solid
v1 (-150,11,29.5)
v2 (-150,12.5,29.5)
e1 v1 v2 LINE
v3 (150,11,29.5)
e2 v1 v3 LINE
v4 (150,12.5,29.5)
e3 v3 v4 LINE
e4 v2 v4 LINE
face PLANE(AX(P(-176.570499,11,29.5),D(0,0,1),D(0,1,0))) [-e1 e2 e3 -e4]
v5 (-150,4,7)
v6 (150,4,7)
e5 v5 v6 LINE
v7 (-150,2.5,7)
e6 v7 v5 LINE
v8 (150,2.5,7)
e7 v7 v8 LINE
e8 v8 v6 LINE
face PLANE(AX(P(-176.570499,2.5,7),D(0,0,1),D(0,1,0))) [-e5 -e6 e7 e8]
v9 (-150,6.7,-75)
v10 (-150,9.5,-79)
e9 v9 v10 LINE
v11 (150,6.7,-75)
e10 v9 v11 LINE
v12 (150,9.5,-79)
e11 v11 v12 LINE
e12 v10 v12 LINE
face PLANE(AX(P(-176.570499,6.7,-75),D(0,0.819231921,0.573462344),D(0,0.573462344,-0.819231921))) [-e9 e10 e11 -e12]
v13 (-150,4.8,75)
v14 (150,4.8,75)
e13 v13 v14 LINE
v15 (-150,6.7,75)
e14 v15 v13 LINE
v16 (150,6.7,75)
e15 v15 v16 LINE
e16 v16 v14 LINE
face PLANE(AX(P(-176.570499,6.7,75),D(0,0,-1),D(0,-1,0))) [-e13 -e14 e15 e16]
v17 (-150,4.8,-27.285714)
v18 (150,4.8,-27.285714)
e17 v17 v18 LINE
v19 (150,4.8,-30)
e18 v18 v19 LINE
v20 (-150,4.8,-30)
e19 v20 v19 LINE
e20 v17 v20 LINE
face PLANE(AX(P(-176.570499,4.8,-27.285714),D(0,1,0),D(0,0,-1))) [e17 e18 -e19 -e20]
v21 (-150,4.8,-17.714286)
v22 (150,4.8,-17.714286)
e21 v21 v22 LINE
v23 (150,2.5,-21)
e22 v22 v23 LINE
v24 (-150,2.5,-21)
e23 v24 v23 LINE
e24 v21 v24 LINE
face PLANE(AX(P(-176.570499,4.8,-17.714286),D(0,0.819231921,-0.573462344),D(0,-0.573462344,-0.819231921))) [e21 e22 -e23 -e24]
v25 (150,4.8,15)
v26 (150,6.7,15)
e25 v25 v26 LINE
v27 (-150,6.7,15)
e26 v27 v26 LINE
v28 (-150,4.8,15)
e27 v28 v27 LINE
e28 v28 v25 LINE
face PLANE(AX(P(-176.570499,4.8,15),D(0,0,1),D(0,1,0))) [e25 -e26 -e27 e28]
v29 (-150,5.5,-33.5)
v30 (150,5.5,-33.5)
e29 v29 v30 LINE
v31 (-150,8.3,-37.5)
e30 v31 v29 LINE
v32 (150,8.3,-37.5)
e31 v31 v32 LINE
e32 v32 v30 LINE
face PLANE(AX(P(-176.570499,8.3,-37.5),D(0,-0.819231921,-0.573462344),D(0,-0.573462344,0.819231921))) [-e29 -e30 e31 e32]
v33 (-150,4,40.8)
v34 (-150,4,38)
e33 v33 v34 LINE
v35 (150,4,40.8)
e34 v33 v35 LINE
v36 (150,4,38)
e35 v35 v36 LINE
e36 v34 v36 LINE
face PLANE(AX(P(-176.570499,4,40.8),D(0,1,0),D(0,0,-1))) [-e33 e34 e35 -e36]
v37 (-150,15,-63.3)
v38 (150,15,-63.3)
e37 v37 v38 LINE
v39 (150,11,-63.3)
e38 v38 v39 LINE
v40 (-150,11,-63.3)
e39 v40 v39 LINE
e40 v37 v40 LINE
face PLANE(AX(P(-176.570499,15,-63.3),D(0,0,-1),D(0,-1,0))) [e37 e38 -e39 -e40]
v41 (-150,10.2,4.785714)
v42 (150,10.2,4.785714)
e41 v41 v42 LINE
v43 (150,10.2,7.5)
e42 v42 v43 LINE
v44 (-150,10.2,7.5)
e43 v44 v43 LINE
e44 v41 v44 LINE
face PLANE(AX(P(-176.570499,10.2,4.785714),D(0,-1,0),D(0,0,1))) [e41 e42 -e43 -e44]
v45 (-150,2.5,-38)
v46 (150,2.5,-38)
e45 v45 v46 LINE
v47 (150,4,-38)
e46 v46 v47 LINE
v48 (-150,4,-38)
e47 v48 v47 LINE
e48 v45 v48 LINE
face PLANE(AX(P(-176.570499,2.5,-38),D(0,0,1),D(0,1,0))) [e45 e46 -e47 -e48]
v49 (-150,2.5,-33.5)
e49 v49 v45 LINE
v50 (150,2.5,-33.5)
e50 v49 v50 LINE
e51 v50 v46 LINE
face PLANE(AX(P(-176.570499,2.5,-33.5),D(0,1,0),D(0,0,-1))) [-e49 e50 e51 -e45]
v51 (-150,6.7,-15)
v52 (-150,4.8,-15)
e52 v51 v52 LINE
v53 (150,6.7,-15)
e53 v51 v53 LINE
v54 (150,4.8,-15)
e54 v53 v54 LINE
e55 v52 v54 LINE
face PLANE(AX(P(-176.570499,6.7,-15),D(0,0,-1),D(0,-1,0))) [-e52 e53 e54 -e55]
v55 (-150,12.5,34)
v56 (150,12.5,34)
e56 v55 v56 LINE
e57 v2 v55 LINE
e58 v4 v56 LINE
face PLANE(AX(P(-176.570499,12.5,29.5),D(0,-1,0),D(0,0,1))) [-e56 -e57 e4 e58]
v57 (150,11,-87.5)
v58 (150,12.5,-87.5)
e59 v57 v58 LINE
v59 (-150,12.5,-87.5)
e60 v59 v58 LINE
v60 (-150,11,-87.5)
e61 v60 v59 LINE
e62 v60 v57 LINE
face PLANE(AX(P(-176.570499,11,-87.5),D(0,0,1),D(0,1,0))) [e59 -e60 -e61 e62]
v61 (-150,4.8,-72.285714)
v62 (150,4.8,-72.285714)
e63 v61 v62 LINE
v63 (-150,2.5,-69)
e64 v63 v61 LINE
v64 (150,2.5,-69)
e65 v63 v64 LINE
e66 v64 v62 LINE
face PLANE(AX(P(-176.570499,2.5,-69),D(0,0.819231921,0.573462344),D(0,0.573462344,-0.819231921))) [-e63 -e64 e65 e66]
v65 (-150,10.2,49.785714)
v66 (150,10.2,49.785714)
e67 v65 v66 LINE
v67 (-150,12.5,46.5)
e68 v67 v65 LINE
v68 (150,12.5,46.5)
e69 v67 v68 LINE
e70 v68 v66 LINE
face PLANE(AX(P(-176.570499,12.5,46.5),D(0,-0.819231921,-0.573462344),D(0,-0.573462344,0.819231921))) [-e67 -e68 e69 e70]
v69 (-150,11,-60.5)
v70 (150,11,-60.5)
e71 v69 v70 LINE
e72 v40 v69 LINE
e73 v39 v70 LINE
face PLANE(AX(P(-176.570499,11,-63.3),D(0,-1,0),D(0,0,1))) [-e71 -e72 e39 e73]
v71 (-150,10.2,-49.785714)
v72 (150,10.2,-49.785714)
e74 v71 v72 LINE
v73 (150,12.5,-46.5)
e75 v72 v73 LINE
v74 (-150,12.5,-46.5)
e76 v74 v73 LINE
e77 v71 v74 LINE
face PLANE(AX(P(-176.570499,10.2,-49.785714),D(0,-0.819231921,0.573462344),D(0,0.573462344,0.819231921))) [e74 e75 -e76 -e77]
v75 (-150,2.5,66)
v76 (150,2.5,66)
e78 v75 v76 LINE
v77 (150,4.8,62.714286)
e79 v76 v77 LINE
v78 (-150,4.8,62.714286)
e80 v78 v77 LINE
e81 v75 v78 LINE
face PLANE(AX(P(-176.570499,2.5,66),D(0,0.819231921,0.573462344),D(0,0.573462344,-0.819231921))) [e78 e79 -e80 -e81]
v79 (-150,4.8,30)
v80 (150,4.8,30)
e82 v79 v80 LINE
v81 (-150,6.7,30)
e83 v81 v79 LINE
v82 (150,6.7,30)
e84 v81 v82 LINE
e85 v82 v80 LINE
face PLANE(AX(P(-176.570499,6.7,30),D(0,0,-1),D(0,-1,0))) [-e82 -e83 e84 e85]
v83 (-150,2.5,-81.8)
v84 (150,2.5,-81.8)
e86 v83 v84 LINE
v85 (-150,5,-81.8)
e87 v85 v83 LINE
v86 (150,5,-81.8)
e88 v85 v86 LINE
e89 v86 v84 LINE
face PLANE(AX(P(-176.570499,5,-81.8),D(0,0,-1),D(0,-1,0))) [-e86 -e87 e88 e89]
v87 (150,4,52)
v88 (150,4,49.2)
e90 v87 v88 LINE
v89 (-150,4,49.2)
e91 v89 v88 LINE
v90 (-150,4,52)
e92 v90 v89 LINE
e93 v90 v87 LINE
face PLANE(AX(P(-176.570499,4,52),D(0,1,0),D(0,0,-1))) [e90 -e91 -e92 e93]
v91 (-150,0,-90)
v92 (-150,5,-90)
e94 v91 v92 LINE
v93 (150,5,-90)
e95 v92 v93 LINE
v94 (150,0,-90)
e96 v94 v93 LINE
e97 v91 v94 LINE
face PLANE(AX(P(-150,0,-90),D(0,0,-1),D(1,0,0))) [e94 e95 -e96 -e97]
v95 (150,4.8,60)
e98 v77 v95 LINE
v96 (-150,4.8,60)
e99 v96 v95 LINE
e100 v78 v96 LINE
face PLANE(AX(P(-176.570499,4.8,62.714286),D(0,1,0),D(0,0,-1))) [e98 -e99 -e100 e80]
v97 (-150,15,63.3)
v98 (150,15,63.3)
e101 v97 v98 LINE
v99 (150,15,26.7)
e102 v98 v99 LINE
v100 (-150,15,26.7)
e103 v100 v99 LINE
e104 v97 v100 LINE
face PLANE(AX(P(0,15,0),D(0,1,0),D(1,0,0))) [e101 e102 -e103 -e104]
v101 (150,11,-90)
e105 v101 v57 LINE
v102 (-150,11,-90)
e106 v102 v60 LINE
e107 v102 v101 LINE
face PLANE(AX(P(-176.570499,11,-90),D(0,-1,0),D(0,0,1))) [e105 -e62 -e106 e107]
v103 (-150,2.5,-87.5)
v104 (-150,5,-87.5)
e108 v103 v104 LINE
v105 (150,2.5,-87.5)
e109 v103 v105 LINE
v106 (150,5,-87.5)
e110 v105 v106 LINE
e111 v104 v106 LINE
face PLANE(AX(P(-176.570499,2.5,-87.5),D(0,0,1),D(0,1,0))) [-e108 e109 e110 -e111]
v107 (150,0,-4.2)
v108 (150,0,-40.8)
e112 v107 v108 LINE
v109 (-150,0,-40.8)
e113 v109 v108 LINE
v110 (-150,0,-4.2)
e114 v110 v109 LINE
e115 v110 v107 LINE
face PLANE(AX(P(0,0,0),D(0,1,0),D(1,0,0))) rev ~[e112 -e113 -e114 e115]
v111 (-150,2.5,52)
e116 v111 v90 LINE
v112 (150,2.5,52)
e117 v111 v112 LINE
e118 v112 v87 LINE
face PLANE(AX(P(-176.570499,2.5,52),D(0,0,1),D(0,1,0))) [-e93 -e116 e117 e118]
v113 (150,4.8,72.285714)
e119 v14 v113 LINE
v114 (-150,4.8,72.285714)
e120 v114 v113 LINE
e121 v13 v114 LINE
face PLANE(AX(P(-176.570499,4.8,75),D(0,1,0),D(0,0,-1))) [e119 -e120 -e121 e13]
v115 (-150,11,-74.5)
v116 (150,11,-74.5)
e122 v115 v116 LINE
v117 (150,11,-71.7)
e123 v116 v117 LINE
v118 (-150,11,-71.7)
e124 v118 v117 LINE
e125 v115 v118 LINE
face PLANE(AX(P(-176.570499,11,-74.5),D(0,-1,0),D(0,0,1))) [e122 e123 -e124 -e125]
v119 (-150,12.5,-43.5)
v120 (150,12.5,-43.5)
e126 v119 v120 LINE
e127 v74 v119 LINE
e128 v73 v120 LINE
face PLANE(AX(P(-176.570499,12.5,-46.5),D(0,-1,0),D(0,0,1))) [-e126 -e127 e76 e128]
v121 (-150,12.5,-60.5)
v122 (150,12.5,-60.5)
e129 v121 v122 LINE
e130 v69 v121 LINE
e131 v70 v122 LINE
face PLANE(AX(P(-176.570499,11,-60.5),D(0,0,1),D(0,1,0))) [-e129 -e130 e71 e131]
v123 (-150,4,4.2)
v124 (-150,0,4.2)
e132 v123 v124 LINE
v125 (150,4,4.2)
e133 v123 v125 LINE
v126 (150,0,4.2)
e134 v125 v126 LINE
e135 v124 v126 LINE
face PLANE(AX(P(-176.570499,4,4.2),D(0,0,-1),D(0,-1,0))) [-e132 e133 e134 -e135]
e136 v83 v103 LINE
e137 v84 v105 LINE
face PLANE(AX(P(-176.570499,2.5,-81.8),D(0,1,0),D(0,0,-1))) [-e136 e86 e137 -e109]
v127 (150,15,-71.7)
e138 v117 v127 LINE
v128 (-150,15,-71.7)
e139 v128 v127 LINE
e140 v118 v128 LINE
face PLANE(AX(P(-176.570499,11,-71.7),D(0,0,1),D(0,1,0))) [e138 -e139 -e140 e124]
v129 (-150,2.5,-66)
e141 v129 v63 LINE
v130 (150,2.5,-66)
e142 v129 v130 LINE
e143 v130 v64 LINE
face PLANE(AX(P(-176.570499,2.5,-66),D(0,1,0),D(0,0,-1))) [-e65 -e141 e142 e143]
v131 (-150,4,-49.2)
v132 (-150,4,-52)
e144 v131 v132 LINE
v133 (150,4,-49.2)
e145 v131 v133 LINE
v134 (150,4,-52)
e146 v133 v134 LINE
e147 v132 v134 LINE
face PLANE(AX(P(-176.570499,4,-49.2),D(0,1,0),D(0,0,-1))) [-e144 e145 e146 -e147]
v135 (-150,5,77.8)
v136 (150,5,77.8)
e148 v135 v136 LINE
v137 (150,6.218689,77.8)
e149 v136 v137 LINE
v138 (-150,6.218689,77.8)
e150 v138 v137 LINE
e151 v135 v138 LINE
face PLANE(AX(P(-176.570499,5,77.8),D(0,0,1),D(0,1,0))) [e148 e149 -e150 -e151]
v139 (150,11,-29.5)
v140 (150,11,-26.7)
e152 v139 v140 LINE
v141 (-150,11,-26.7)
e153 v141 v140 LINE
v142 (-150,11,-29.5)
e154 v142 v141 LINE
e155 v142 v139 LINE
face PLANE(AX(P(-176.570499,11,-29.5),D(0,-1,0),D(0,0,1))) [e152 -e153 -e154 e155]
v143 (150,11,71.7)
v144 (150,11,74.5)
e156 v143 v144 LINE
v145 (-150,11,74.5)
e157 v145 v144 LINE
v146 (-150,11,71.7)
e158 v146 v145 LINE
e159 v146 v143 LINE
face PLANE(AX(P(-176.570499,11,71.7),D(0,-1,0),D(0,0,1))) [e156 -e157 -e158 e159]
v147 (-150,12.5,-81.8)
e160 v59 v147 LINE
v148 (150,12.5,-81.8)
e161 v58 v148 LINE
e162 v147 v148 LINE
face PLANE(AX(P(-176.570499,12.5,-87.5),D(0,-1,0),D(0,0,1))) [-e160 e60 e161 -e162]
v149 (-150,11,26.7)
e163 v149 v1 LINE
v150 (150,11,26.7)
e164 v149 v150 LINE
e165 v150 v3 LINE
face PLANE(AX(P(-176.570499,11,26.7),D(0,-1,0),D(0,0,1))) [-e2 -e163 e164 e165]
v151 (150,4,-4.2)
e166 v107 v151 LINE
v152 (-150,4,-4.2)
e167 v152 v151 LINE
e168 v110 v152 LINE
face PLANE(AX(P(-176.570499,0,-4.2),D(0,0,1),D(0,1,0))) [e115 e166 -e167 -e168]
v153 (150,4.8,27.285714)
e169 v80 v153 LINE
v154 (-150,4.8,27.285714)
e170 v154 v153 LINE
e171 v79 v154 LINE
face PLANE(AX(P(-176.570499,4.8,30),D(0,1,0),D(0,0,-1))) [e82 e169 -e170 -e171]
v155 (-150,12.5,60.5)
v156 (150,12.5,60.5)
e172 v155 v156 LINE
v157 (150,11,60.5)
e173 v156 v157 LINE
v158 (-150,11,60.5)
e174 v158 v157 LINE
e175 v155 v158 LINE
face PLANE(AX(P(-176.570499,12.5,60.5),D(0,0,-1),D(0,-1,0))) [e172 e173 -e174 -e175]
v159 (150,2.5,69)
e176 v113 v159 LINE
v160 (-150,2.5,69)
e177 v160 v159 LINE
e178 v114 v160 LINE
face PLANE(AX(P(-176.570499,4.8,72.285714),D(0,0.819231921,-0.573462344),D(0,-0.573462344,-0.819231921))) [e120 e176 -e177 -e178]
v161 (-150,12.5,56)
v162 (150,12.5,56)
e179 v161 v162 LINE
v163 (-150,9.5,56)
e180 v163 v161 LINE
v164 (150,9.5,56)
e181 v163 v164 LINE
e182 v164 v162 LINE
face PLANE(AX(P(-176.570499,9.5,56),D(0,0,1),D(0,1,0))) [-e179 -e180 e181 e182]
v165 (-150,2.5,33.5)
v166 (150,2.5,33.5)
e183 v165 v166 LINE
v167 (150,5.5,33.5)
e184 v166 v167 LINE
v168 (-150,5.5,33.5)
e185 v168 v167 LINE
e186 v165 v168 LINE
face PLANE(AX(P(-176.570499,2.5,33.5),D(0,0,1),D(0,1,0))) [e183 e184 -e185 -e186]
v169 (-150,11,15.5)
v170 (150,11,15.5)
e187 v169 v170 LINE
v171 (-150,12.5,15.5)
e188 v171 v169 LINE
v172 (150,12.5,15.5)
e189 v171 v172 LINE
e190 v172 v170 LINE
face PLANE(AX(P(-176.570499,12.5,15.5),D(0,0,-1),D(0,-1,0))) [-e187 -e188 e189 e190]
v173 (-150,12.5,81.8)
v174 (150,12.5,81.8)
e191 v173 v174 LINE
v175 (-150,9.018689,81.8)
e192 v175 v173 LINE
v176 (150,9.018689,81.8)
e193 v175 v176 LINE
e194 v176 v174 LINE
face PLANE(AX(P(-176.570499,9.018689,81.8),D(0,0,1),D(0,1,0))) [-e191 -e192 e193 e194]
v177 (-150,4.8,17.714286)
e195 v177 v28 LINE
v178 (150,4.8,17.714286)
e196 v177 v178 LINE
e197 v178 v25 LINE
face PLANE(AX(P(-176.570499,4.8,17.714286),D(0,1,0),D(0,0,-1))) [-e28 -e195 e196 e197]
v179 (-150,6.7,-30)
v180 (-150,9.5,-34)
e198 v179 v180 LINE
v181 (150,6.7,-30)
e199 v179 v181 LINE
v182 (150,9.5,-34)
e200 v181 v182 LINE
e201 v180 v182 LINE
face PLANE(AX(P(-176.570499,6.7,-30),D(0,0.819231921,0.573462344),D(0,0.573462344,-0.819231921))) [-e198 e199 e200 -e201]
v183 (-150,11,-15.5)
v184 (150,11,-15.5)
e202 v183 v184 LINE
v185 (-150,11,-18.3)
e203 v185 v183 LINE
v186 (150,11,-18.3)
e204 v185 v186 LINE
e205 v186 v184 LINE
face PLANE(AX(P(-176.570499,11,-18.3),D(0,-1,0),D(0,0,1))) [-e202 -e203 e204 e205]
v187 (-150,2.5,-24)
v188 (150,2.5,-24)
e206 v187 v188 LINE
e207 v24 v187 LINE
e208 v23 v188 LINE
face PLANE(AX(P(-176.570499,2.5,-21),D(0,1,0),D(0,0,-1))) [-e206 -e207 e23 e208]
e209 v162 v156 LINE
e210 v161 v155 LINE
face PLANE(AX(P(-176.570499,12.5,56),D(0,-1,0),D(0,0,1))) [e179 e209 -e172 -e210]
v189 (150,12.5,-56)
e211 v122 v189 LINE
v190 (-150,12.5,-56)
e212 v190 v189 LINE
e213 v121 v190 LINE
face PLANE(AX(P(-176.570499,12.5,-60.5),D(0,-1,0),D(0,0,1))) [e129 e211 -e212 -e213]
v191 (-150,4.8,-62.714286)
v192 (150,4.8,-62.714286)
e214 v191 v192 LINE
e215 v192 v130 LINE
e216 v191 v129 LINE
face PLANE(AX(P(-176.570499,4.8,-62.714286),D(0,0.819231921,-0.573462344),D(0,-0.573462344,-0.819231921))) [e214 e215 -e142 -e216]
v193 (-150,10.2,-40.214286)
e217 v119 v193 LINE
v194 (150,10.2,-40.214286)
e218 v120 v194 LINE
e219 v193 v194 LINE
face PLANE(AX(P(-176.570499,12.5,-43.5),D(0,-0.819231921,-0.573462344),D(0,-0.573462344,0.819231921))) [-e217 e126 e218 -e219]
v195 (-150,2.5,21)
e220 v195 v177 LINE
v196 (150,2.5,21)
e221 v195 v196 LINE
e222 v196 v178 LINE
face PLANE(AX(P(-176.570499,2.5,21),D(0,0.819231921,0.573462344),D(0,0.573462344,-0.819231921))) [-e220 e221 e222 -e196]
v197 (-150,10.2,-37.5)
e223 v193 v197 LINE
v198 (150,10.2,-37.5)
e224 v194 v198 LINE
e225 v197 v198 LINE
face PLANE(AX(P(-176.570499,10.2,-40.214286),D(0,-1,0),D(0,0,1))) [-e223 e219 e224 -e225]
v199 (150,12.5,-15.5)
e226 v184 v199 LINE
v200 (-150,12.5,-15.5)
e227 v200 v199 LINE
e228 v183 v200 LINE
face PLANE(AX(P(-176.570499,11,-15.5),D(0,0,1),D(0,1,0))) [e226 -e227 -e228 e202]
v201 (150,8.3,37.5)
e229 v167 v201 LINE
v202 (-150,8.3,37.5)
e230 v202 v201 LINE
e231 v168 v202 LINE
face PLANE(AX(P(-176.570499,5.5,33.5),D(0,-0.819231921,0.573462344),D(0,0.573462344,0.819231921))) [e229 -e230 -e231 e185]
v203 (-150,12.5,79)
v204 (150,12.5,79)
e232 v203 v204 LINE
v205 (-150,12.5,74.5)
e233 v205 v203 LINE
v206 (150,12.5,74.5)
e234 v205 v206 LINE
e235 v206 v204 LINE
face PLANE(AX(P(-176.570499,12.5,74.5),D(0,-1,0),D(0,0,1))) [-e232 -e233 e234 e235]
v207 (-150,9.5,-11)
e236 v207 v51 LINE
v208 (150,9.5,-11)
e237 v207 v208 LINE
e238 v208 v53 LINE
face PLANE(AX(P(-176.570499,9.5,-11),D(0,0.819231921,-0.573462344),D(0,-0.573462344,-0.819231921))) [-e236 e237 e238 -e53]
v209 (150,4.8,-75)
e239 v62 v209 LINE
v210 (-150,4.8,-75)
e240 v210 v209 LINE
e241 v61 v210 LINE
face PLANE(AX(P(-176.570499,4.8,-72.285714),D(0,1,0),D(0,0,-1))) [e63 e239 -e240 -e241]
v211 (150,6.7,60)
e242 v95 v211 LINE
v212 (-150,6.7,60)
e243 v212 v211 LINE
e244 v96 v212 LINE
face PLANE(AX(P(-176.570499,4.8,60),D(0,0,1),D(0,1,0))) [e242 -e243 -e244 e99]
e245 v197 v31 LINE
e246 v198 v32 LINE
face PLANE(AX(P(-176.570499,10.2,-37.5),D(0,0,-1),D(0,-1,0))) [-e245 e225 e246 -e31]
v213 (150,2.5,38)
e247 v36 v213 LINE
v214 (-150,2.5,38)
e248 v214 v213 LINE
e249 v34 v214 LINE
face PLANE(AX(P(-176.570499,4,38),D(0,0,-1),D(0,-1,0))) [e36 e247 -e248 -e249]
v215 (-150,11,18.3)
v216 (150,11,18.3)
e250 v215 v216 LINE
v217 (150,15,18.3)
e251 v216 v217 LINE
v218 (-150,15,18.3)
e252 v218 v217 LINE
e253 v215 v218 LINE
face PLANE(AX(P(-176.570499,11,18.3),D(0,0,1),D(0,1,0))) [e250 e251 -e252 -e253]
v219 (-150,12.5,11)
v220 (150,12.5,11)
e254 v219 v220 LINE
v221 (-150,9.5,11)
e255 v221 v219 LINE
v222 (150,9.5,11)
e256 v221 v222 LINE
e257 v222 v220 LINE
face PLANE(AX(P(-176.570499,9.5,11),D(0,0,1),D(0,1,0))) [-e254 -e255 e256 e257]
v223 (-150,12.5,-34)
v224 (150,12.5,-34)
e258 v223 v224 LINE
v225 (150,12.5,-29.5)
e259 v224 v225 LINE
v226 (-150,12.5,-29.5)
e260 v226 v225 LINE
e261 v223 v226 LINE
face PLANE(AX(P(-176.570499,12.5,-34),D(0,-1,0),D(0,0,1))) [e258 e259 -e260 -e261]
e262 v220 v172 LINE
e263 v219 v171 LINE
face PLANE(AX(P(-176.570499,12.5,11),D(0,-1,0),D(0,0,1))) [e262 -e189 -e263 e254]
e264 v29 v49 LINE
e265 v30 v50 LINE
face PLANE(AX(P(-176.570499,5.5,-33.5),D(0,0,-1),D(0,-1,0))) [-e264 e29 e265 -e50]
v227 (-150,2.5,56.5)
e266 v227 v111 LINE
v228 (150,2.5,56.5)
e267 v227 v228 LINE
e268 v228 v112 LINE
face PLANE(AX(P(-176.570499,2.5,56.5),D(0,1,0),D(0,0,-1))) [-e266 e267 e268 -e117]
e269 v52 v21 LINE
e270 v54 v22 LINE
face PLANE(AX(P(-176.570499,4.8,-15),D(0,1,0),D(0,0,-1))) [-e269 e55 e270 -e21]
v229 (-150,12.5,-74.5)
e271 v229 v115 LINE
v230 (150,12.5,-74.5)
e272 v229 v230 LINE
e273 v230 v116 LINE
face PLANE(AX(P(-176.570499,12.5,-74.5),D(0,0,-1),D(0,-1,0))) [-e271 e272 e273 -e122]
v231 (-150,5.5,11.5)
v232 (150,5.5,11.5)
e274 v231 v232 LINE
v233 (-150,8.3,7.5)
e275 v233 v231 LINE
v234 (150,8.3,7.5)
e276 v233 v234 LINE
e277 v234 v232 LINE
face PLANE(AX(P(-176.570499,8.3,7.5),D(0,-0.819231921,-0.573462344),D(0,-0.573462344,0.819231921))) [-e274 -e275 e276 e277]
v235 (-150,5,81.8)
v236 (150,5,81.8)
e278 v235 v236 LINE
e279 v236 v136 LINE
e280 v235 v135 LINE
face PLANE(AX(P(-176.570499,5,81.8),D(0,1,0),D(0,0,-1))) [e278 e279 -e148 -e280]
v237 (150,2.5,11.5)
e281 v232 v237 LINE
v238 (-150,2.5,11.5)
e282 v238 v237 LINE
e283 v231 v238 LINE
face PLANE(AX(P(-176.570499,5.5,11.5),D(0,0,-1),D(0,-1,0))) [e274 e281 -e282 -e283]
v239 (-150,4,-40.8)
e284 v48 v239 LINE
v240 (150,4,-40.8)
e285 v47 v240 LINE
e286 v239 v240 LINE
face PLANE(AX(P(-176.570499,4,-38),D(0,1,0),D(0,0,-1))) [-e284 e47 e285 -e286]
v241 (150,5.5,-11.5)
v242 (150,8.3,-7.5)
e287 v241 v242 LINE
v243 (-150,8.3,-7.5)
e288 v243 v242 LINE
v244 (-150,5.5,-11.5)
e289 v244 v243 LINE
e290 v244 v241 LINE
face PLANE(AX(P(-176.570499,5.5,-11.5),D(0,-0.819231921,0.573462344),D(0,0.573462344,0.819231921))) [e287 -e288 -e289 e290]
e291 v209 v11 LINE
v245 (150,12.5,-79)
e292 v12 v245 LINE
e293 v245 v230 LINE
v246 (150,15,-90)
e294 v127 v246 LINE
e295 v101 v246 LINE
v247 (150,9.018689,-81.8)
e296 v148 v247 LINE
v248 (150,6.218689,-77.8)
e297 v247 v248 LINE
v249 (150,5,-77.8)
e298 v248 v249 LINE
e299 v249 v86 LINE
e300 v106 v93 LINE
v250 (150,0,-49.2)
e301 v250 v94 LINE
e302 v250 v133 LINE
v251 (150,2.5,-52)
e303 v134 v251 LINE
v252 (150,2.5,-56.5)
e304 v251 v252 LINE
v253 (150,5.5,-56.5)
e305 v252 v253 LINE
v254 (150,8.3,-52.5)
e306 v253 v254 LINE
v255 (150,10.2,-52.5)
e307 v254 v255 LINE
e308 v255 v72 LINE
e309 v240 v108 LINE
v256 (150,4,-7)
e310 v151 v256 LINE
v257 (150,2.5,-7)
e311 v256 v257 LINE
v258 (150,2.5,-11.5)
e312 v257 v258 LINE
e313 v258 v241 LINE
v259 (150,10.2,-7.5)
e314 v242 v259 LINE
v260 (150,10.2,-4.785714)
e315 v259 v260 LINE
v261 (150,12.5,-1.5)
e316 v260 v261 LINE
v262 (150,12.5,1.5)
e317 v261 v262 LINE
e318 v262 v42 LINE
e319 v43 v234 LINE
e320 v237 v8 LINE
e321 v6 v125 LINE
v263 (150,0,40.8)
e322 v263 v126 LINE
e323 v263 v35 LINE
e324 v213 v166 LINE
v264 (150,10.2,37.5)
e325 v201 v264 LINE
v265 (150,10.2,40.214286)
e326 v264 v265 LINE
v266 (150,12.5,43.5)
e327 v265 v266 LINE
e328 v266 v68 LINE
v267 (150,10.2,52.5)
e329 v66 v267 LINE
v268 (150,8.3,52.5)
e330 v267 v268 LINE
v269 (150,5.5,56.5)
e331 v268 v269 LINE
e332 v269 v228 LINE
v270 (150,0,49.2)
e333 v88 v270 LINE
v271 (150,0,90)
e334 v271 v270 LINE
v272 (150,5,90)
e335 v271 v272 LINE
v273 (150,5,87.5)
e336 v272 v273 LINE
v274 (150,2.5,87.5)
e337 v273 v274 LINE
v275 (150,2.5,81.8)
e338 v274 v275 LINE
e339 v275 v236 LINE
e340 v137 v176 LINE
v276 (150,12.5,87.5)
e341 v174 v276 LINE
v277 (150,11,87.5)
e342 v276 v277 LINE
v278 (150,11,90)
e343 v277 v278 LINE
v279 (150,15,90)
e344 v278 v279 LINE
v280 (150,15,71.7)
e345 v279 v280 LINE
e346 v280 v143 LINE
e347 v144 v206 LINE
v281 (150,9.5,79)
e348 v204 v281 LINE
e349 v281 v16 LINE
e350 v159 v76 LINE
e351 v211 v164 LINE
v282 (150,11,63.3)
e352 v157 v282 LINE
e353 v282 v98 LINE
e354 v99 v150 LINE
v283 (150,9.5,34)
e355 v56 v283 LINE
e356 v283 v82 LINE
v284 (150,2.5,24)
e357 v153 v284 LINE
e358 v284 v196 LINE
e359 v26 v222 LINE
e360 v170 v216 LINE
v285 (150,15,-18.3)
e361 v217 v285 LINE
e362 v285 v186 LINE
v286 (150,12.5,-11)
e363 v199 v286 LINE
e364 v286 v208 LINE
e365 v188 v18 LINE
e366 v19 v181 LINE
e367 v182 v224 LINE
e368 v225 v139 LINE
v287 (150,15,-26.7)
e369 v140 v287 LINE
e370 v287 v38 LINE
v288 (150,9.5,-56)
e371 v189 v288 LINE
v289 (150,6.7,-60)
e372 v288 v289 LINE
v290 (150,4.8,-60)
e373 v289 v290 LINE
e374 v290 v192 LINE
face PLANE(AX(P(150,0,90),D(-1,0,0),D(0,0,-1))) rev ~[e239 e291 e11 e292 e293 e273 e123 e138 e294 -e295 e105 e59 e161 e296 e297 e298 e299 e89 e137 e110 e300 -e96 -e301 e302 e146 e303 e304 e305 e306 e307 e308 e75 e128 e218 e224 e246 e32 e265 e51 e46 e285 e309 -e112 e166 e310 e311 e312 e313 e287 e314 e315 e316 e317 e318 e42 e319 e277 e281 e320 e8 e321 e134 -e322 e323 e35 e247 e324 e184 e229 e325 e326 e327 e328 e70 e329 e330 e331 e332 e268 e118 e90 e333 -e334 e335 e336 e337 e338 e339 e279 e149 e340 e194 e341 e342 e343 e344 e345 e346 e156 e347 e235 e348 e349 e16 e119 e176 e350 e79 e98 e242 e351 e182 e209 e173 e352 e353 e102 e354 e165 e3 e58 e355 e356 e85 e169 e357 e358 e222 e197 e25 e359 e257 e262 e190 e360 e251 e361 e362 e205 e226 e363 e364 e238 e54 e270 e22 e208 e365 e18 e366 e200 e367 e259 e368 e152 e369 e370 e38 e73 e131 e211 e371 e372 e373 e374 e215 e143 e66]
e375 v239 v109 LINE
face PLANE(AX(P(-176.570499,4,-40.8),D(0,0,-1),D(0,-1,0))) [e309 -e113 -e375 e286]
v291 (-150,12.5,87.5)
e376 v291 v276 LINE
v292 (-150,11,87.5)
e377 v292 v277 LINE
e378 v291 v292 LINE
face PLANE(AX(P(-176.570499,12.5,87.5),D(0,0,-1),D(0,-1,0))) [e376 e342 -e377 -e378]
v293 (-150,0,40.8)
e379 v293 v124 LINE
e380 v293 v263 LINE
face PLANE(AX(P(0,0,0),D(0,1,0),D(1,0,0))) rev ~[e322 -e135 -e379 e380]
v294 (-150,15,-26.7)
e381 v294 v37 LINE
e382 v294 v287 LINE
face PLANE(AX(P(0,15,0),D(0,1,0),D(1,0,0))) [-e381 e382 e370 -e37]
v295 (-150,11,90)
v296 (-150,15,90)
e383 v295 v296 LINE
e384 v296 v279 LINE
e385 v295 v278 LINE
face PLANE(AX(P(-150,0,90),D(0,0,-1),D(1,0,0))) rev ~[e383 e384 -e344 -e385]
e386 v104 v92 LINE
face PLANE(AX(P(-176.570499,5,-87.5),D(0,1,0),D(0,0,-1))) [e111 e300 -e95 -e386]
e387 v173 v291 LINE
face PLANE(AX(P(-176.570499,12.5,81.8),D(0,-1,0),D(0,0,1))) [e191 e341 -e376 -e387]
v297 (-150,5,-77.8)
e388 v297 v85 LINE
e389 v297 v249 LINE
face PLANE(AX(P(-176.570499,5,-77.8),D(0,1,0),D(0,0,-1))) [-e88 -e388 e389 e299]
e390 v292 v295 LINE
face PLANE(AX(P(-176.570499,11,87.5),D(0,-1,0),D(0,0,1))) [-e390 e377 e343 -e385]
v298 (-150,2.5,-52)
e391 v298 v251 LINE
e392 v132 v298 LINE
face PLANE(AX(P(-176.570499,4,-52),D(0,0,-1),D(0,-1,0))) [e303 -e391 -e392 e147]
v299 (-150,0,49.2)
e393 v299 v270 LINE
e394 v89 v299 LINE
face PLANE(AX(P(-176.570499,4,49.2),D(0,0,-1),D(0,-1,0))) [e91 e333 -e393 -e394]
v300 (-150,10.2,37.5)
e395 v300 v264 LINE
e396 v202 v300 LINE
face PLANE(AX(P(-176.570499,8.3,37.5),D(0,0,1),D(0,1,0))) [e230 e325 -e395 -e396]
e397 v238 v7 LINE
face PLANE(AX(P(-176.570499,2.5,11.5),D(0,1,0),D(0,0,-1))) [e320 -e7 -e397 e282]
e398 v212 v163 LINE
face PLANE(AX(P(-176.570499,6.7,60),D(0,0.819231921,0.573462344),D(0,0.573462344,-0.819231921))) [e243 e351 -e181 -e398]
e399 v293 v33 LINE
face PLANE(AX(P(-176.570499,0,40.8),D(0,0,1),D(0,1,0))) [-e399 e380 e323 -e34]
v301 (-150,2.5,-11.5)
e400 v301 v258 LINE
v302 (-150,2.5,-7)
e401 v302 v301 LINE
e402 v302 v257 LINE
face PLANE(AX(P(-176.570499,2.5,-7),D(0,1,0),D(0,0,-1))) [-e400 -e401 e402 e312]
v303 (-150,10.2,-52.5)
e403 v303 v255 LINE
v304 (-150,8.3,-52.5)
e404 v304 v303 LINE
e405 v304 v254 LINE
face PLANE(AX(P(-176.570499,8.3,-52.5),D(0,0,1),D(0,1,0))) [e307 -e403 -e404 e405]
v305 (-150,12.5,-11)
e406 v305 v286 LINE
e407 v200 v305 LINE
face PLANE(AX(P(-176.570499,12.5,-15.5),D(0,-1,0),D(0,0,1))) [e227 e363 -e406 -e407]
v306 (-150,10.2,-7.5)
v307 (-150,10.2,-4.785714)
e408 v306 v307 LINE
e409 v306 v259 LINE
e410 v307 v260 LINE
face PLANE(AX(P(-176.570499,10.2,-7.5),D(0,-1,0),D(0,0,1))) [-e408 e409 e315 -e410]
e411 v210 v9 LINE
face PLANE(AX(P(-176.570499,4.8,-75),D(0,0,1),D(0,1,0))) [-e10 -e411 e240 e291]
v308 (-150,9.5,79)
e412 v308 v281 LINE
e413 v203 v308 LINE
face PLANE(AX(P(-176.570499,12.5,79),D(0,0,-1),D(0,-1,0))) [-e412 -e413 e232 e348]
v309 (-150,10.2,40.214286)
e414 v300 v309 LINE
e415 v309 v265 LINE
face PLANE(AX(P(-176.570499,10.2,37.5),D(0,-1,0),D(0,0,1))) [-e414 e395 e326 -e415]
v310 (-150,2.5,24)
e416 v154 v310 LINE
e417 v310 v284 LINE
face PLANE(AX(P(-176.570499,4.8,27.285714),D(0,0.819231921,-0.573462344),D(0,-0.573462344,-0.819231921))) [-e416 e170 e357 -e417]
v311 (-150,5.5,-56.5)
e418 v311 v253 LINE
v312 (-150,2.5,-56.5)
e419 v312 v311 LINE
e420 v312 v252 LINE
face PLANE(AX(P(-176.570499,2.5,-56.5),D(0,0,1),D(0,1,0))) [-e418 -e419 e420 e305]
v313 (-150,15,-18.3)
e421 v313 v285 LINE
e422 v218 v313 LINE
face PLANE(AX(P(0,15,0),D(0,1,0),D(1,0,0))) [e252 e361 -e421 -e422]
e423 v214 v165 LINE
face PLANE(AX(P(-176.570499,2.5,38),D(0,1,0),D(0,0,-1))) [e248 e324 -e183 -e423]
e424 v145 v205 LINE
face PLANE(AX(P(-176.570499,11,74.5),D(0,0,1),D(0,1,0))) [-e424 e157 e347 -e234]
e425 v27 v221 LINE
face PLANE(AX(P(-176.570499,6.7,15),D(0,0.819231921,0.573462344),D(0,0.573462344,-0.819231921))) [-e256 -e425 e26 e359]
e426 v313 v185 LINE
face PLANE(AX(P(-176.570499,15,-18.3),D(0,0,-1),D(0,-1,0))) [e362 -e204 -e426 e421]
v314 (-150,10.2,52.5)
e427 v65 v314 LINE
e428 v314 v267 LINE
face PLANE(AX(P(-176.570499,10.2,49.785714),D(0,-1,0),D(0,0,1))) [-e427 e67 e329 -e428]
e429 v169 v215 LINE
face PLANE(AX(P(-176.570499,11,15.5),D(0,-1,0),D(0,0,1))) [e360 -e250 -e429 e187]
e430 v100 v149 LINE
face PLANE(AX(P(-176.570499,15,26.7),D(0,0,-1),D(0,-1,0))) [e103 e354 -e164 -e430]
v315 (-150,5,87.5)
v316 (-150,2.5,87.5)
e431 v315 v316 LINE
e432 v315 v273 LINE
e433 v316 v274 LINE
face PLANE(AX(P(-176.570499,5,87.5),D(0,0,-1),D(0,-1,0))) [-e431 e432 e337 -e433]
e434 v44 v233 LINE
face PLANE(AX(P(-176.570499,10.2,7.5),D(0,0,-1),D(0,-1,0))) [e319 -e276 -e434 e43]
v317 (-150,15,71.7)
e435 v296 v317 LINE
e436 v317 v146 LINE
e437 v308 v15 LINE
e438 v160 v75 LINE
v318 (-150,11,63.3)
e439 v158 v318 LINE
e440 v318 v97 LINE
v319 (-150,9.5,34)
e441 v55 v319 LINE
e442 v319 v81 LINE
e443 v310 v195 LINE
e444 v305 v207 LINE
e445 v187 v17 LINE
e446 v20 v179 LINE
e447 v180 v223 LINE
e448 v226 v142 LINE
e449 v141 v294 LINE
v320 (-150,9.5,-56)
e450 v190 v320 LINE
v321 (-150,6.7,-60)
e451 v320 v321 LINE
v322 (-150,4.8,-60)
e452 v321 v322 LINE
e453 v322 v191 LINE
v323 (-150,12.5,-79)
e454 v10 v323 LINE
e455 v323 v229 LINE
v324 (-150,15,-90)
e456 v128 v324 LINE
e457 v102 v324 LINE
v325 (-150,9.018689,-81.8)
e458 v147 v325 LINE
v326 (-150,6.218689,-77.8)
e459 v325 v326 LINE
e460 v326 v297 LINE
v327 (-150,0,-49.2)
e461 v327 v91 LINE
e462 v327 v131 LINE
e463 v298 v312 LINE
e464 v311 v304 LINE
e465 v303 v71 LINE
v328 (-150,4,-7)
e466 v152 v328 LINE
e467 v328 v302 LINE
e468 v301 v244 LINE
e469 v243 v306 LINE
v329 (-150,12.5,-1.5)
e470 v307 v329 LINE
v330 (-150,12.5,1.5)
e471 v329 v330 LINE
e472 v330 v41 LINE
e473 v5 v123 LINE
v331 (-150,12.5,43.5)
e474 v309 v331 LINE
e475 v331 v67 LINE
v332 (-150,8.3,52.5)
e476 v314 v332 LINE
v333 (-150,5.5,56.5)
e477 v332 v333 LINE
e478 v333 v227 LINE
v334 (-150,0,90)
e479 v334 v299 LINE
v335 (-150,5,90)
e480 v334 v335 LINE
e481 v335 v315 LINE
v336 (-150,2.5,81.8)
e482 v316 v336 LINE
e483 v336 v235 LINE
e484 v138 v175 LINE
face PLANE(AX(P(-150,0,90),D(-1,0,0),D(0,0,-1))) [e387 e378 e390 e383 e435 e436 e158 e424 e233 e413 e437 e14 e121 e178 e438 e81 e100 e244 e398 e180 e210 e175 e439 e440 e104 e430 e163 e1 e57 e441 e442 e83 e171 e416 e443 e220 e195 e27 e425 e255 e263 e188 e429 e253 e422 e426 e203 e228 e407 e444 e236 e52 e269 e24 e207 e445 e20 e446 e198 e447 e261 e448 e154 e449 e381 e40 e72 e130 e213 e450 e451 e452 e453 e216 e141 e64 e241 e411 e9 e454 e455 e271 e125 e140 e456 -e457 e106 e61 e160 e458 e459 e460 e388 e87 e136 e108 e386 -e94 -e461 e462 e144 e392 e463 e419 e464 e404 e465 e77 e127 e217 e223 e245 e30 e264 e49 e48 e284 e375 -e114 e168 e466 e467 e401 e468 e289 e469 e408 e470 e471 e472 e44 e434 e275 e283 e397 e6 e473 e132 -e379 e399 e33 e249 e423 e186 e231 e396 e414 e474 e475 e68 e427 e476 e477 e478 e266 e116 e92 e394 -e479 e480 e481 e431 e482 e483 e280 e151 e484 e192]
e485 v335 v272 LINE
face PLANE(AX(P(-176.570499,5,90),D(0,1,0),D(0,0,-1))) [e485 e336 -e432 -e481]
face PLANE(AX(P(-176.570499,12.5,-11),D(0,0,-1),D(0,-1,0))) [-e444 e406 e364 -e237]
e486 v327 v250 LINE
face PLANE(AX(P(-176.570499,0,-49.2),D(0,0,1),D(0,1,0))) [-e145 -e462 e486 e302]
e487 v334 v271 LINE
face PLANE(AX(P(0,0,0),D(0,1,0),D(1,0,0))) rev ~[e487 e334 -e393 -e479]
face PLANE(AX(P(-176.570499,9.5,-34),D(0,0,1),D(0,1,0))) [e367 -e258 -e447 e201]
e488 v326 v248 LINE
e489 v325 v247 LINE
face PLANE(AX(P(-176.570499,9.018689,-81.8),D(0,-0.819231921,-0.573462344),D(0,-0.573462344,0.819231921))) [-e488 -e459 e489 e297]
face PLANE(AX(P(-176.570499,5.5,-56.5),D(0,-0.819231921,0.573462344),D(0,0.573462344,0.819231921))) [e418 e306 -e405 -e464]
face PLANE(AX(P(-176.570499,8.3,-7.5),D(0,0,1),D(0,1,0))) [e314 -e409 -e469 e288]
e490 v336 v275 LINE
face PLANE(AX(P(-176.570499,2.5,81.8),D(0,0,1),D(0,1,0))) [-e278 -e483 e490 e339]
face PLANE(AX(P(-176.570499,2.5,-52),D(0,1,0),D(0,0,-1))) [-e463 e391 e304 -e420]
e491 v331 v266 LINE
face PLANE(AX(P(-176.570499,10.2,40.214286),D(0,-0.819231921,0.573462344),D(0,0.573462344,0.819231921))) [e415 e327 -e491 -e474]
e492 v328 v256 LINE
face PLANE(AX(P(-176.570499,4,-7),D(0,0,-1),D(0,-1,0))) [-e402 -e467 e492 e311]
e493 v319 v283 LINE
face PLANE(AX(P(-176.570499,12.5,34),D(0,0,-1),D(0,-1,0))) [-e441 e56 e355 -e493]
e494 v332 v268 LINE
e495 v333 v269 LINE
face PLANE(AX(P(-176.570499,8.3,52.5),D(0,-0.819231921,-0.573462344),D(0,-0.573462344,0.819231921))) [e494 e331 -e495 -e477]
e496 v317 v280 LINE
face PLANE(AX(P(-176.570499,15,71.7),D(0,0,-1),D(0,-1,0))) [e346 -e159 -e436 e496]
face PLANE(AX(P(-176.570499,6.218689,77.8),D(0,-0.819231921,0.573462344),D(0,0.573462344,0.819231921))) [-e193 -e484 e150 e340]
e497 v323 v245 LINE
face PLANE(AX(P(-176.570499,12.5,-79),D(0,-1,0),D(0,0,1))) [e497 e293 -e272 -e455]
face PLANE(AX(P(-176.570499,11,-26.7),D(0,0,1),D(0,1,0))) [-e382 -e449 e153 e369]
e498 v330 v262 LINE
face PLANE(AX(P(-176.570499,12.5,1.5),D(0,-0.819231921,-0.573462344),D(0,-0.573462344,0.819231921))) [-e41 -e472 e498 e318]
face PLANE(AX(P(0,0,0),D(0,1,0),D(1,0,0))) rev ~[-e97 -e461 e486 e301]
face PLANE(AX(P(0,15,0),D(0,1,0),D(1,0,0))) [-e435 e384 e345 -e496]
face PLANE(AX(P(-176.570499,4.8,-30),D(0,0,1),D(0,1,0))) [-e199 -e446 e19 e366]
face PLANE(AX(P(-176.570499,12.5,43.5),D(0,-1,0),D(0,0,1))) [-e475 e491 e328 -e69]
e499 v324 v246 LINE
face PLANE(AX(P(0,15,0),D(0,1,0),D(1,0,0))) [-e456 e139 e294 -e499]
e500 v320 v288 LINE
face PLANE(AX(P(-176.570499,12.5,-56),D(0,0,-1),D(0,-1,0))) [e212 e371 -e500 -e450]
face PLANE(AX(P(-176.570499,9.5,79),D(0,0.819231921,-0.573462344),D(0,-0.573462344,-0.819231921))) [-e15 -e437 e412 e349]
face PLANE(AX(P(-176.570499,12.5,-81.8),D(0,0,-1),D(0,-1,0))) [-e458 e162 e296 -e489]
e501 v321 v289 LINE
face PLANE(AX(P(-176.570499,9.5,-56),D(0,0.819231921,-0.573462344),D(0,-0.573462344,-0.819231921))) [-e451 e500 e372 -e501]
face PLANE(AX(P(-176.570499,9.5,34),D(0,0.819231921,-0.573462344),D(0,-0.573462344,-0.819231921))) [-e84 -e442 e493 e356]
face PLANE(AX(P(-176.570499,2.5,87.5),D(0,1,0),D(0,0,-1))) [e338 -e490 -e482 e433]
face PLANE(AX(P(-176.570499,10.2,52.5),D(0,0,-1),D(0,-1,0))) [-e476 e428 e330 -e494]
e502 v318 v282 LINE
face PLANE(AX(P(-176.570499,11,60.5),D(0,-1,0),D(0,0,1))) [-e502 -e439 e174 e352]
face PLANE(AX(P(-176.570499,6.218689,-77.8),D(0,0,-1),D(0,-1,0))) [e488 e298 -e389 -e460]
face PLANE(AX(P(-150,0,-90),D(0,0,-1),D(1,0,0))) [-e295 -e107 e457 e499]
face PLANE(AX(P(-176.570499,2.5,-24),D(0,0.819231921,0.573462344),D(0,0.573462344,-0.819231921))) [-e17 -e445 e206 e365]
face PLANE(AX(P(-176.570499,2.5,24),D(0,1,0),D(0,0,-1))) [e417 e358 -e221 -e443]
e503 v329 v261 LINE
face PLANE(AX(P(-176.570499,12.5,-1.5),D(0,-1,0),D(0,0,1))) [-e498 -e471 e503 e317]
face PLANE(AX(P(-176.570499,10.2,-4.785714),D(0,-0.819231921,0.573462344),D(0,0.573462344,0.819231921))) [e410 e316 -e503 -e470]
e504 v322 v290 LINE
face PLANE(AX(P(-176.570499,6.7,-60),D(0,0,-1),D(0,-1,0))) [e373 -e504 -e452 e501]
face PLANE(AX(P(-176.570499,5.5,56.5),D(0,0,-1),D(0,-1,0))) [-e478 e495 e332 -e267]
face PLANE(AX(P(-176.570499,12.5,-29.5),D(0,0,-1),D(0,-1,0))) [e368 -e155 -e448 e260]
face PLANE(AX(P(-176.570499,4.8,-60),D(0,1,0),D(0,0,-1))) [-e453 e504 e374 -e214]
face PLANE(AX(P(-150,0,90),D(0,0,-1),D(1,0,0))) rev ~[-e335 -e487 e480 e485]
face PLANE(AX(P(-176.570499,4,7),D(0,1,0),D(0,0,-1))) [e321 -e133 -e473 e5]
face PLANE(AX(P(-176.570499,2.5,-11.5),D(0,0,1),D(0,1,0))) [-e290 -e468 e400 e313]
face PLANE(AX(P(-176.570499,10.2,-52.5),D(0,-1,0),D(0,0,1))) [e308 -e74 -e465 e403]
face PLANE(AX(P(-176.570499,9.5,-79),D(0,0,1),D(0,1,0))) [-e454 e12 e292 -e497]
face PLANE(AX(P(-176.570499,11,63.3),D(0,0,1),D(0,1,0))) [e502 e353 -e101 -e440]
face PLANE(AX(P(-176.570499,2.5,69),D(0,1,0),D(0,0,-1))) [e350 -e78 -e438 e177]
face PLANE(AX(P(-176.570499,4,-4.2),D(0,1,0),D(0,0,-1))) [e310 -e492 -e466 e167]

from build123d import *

# Parameters (mm, degrees)
SKETCH_1_W               = 300
SKETCH_1_H               = 180
EXTRUDE_1_DEPTH          = 15
CUT_EXTRUDE_1_DEPTH      = 176.570498661
CUT_EXTRUDE_1_DEPTH_BACK = 176.570498661
CUT_EXTRUDE_2_DEPTH      = 176.570498661
CUT_EXTRUDE_2_DEPTH_BACK = 176.570498661
CUT_EXTRUDE_3_DEPTH      = 176.570498661
CUT_EXTRUDE_3_DEPTH_BACK = 176.570498661


with BuildPart() as part:
    # Эскиз1 → Бобышка-Вытянуть1 (new body)
    with BuildSketch(Plane(origin=(0, 0, 0), x_dir=(1, 0, 0), z_dir=(0, 1, 0))):
        Rectangle(SKETCH_1_W, SKETCH_1_H)
    extrude(amount=EXTRUDE_1_DEPTH)

    # Эскиз3 → Вырез-Вытянуть1 (cut, two sides: drawn at the far end of the back side and taken through both)
    with BuildSketch(Plane(origin=(0, 0, 0), x_dir=(0, 0, -1), z_dir=(1, 0, 0)).offset(-CUT_EXTRUDE_1_DEPTH_BACK)):
        Polygon((-49.2, 0), (-40.8, 0), (-40.8, 4), (-38, 4), (-38, 2.5), (-33.5, 2.5), (-33.5, 5.5), (-37.5, 8.3), (-37.5, 10.2), (-40.214285714, 10.2), (-43.5, 12.5), (-46.5, 12.5), (-49.785714286, 10.2), (-52.5, 10.2), (-52.5, 8.3), (-56.5, 5.5), (-56.5, 2.5), (-52, 2.5), (-52, 4), (-49.2, 4), align=None)
        Polygon((-4.2, 0), (4.2, 0), (4.2, 4), (7, 4), (7, 2.5), (11.5, 2.5), (11.5, 5.5), (7.5, 8.3), (7.5, 10.2), (4.785714286, 10.2), (1.5, 12.5), (-1.5, 12.5), (-4.785714286, 10.2), (-7.5, 10.2), (-7.5, 8.3), (-11.5, 5.5), (-11.5, 2.5), (-7, 2.5), (-7, 4), (-4.2, 4), align=None)
        Polygon((40.8, 4), (40.8, 0), (49.2, 0), (49.2, 4), (52, 4), (52, 2.5), (56.5, 2.5), (56.5, 5.5), (52.5, 8.3), (52.5, 10.2), (49.785714286, 10.2), (46.5, 12.5), (43.5, 12.5), (40.214285714, 10.2), (37.5, 10.2), (37.5, 8.3), (33.5, 5.5), (33.5, 2.5), (38, 2.5), (38, 4), align=None)
    extrude(amount=CUT_EXTRUDE_1_DEPTH + CUT_EXTRUDE_1_DEPTH_BACK, mode=Mode.SUBTRACT)

    # Эскиз4 → Вырез-Вытянуть2 (cut, two sides: drawn at the far end of the back side and taken through both)
    with BuildSketch(Plane(origin=(0, 0, 0), x_dir=(0, 0, -1), z_dir=(1, 0, 0)).offset(-CUT_EXTRUDE_2_DEPTH_BACK)):
        Polygon((-71.7, 15), (-71.7, 11), (-74.5, 11), (-74.5, 12.5), (-79, 12.5), (-79, 9.5), (-75, 6.7), (-75, 4.8), (-72.285714286, 4.8), (-69, 2.5), (-66, 2.5), (-62.714285714, 4.8), (-60, 4.8), (-60, 6.7), (-56, 9.5), (-56, 12.5), (-60.5, 12.5), (-60.5, 11), (-63.3, 11), (-63.3, 15), align=None)
        Polygon((-18.3, 15), (-26.7, 15), (-26.7, 11), (-29.5, 11), (-29.5, 12.5), (-34, 12.5), (-34, 9.5), (-30, 6.7), (-30, 4.8), (-27.285714286, 4.8), (-24, 2.5), (-21, 2.5), (-17.714285714, 4.8), (-15, 4.8), (-15, 6.7), (-11, 9.5), (-11, 12.5), (-15.5, 12.5), (-15.5, 11), (-18.3, 11), align=None)
        Polygon((26.7, 15), (18.3, 15), (18.3, 11), (15.5, 11), (15.5, 12.5), (11, 12.5), (11, 9.5), (15, 6.7), (15, 4.8), (17.714285714, 4.8), (21, 2.5), (24, 2.5), (27.285714286, 4.8), (30, 4.8), (30, 6.7), (34, 9.5), (34, 12.5), (29.5, 12.5), (29.5, 11), (26.7, 11), align=None)
        Polygon((71.7, 15), (63.3, 15), (63.3, 11), (60.5, 11), (60.5, 12.5), (56, 12.5), (56, 9.5), (60, 6.7), (60, 4.8), (62.714285714, 4.8), (66, 2.5), (69, 2.5), (72.285714286, 4.8), (75, 4.8), (75, 6.7), (79, 9.5), (79, 12.5), (74.5, 12.5), (74.5, 11), (71.7, 11), align=None)
    extrude(amount=CUT_EXTRUDE_2_DEPTH + CUT_EXTRUDE_2_DEPTH_BACK, mode=Mode.SUBTRACT)

    # Эскиз5 → Вырез-Вытянуть3 (cut, two sides: drawn at the far end of the back side and taken through both)
    with BuildSketch(Plane(origin=(0, 0, 0), x_dir=(0, 0, -1), z_dir=(1, 0, 0)).offset(-CUT_EXTRUDE_3_DEPTH_BACK)):
        Polygon((-90, 11), (-90, 5), (-87.5, 5), (-87.5, 2.5), (-81.8, 2.5), (-81.8, 5), (-77.8, 5), (-77.8, 6.218688877), (-81.8, 9.018688877), (-81.8, 12.5), (-87.5, 12.5), (-87.5, 11), align=None)
        Polygon((90, 5), (90, 11), (87.5, 11), (87.5, 12.5), (81.8, 12.5), (81.8, 9.018688877), (77.8, 6.218688877), (77.8, 5), (81.8, 5), (81.8, 2.5), (87.5, 2.5), (87.5, 5), align=None)
    extrude(amount=CUT_EXTRUDE_3_DEPTH + CUT_EXTRUDE_3_DEPTH_BACK, mode=Mode.SUBTRACT)


solid = part.part
